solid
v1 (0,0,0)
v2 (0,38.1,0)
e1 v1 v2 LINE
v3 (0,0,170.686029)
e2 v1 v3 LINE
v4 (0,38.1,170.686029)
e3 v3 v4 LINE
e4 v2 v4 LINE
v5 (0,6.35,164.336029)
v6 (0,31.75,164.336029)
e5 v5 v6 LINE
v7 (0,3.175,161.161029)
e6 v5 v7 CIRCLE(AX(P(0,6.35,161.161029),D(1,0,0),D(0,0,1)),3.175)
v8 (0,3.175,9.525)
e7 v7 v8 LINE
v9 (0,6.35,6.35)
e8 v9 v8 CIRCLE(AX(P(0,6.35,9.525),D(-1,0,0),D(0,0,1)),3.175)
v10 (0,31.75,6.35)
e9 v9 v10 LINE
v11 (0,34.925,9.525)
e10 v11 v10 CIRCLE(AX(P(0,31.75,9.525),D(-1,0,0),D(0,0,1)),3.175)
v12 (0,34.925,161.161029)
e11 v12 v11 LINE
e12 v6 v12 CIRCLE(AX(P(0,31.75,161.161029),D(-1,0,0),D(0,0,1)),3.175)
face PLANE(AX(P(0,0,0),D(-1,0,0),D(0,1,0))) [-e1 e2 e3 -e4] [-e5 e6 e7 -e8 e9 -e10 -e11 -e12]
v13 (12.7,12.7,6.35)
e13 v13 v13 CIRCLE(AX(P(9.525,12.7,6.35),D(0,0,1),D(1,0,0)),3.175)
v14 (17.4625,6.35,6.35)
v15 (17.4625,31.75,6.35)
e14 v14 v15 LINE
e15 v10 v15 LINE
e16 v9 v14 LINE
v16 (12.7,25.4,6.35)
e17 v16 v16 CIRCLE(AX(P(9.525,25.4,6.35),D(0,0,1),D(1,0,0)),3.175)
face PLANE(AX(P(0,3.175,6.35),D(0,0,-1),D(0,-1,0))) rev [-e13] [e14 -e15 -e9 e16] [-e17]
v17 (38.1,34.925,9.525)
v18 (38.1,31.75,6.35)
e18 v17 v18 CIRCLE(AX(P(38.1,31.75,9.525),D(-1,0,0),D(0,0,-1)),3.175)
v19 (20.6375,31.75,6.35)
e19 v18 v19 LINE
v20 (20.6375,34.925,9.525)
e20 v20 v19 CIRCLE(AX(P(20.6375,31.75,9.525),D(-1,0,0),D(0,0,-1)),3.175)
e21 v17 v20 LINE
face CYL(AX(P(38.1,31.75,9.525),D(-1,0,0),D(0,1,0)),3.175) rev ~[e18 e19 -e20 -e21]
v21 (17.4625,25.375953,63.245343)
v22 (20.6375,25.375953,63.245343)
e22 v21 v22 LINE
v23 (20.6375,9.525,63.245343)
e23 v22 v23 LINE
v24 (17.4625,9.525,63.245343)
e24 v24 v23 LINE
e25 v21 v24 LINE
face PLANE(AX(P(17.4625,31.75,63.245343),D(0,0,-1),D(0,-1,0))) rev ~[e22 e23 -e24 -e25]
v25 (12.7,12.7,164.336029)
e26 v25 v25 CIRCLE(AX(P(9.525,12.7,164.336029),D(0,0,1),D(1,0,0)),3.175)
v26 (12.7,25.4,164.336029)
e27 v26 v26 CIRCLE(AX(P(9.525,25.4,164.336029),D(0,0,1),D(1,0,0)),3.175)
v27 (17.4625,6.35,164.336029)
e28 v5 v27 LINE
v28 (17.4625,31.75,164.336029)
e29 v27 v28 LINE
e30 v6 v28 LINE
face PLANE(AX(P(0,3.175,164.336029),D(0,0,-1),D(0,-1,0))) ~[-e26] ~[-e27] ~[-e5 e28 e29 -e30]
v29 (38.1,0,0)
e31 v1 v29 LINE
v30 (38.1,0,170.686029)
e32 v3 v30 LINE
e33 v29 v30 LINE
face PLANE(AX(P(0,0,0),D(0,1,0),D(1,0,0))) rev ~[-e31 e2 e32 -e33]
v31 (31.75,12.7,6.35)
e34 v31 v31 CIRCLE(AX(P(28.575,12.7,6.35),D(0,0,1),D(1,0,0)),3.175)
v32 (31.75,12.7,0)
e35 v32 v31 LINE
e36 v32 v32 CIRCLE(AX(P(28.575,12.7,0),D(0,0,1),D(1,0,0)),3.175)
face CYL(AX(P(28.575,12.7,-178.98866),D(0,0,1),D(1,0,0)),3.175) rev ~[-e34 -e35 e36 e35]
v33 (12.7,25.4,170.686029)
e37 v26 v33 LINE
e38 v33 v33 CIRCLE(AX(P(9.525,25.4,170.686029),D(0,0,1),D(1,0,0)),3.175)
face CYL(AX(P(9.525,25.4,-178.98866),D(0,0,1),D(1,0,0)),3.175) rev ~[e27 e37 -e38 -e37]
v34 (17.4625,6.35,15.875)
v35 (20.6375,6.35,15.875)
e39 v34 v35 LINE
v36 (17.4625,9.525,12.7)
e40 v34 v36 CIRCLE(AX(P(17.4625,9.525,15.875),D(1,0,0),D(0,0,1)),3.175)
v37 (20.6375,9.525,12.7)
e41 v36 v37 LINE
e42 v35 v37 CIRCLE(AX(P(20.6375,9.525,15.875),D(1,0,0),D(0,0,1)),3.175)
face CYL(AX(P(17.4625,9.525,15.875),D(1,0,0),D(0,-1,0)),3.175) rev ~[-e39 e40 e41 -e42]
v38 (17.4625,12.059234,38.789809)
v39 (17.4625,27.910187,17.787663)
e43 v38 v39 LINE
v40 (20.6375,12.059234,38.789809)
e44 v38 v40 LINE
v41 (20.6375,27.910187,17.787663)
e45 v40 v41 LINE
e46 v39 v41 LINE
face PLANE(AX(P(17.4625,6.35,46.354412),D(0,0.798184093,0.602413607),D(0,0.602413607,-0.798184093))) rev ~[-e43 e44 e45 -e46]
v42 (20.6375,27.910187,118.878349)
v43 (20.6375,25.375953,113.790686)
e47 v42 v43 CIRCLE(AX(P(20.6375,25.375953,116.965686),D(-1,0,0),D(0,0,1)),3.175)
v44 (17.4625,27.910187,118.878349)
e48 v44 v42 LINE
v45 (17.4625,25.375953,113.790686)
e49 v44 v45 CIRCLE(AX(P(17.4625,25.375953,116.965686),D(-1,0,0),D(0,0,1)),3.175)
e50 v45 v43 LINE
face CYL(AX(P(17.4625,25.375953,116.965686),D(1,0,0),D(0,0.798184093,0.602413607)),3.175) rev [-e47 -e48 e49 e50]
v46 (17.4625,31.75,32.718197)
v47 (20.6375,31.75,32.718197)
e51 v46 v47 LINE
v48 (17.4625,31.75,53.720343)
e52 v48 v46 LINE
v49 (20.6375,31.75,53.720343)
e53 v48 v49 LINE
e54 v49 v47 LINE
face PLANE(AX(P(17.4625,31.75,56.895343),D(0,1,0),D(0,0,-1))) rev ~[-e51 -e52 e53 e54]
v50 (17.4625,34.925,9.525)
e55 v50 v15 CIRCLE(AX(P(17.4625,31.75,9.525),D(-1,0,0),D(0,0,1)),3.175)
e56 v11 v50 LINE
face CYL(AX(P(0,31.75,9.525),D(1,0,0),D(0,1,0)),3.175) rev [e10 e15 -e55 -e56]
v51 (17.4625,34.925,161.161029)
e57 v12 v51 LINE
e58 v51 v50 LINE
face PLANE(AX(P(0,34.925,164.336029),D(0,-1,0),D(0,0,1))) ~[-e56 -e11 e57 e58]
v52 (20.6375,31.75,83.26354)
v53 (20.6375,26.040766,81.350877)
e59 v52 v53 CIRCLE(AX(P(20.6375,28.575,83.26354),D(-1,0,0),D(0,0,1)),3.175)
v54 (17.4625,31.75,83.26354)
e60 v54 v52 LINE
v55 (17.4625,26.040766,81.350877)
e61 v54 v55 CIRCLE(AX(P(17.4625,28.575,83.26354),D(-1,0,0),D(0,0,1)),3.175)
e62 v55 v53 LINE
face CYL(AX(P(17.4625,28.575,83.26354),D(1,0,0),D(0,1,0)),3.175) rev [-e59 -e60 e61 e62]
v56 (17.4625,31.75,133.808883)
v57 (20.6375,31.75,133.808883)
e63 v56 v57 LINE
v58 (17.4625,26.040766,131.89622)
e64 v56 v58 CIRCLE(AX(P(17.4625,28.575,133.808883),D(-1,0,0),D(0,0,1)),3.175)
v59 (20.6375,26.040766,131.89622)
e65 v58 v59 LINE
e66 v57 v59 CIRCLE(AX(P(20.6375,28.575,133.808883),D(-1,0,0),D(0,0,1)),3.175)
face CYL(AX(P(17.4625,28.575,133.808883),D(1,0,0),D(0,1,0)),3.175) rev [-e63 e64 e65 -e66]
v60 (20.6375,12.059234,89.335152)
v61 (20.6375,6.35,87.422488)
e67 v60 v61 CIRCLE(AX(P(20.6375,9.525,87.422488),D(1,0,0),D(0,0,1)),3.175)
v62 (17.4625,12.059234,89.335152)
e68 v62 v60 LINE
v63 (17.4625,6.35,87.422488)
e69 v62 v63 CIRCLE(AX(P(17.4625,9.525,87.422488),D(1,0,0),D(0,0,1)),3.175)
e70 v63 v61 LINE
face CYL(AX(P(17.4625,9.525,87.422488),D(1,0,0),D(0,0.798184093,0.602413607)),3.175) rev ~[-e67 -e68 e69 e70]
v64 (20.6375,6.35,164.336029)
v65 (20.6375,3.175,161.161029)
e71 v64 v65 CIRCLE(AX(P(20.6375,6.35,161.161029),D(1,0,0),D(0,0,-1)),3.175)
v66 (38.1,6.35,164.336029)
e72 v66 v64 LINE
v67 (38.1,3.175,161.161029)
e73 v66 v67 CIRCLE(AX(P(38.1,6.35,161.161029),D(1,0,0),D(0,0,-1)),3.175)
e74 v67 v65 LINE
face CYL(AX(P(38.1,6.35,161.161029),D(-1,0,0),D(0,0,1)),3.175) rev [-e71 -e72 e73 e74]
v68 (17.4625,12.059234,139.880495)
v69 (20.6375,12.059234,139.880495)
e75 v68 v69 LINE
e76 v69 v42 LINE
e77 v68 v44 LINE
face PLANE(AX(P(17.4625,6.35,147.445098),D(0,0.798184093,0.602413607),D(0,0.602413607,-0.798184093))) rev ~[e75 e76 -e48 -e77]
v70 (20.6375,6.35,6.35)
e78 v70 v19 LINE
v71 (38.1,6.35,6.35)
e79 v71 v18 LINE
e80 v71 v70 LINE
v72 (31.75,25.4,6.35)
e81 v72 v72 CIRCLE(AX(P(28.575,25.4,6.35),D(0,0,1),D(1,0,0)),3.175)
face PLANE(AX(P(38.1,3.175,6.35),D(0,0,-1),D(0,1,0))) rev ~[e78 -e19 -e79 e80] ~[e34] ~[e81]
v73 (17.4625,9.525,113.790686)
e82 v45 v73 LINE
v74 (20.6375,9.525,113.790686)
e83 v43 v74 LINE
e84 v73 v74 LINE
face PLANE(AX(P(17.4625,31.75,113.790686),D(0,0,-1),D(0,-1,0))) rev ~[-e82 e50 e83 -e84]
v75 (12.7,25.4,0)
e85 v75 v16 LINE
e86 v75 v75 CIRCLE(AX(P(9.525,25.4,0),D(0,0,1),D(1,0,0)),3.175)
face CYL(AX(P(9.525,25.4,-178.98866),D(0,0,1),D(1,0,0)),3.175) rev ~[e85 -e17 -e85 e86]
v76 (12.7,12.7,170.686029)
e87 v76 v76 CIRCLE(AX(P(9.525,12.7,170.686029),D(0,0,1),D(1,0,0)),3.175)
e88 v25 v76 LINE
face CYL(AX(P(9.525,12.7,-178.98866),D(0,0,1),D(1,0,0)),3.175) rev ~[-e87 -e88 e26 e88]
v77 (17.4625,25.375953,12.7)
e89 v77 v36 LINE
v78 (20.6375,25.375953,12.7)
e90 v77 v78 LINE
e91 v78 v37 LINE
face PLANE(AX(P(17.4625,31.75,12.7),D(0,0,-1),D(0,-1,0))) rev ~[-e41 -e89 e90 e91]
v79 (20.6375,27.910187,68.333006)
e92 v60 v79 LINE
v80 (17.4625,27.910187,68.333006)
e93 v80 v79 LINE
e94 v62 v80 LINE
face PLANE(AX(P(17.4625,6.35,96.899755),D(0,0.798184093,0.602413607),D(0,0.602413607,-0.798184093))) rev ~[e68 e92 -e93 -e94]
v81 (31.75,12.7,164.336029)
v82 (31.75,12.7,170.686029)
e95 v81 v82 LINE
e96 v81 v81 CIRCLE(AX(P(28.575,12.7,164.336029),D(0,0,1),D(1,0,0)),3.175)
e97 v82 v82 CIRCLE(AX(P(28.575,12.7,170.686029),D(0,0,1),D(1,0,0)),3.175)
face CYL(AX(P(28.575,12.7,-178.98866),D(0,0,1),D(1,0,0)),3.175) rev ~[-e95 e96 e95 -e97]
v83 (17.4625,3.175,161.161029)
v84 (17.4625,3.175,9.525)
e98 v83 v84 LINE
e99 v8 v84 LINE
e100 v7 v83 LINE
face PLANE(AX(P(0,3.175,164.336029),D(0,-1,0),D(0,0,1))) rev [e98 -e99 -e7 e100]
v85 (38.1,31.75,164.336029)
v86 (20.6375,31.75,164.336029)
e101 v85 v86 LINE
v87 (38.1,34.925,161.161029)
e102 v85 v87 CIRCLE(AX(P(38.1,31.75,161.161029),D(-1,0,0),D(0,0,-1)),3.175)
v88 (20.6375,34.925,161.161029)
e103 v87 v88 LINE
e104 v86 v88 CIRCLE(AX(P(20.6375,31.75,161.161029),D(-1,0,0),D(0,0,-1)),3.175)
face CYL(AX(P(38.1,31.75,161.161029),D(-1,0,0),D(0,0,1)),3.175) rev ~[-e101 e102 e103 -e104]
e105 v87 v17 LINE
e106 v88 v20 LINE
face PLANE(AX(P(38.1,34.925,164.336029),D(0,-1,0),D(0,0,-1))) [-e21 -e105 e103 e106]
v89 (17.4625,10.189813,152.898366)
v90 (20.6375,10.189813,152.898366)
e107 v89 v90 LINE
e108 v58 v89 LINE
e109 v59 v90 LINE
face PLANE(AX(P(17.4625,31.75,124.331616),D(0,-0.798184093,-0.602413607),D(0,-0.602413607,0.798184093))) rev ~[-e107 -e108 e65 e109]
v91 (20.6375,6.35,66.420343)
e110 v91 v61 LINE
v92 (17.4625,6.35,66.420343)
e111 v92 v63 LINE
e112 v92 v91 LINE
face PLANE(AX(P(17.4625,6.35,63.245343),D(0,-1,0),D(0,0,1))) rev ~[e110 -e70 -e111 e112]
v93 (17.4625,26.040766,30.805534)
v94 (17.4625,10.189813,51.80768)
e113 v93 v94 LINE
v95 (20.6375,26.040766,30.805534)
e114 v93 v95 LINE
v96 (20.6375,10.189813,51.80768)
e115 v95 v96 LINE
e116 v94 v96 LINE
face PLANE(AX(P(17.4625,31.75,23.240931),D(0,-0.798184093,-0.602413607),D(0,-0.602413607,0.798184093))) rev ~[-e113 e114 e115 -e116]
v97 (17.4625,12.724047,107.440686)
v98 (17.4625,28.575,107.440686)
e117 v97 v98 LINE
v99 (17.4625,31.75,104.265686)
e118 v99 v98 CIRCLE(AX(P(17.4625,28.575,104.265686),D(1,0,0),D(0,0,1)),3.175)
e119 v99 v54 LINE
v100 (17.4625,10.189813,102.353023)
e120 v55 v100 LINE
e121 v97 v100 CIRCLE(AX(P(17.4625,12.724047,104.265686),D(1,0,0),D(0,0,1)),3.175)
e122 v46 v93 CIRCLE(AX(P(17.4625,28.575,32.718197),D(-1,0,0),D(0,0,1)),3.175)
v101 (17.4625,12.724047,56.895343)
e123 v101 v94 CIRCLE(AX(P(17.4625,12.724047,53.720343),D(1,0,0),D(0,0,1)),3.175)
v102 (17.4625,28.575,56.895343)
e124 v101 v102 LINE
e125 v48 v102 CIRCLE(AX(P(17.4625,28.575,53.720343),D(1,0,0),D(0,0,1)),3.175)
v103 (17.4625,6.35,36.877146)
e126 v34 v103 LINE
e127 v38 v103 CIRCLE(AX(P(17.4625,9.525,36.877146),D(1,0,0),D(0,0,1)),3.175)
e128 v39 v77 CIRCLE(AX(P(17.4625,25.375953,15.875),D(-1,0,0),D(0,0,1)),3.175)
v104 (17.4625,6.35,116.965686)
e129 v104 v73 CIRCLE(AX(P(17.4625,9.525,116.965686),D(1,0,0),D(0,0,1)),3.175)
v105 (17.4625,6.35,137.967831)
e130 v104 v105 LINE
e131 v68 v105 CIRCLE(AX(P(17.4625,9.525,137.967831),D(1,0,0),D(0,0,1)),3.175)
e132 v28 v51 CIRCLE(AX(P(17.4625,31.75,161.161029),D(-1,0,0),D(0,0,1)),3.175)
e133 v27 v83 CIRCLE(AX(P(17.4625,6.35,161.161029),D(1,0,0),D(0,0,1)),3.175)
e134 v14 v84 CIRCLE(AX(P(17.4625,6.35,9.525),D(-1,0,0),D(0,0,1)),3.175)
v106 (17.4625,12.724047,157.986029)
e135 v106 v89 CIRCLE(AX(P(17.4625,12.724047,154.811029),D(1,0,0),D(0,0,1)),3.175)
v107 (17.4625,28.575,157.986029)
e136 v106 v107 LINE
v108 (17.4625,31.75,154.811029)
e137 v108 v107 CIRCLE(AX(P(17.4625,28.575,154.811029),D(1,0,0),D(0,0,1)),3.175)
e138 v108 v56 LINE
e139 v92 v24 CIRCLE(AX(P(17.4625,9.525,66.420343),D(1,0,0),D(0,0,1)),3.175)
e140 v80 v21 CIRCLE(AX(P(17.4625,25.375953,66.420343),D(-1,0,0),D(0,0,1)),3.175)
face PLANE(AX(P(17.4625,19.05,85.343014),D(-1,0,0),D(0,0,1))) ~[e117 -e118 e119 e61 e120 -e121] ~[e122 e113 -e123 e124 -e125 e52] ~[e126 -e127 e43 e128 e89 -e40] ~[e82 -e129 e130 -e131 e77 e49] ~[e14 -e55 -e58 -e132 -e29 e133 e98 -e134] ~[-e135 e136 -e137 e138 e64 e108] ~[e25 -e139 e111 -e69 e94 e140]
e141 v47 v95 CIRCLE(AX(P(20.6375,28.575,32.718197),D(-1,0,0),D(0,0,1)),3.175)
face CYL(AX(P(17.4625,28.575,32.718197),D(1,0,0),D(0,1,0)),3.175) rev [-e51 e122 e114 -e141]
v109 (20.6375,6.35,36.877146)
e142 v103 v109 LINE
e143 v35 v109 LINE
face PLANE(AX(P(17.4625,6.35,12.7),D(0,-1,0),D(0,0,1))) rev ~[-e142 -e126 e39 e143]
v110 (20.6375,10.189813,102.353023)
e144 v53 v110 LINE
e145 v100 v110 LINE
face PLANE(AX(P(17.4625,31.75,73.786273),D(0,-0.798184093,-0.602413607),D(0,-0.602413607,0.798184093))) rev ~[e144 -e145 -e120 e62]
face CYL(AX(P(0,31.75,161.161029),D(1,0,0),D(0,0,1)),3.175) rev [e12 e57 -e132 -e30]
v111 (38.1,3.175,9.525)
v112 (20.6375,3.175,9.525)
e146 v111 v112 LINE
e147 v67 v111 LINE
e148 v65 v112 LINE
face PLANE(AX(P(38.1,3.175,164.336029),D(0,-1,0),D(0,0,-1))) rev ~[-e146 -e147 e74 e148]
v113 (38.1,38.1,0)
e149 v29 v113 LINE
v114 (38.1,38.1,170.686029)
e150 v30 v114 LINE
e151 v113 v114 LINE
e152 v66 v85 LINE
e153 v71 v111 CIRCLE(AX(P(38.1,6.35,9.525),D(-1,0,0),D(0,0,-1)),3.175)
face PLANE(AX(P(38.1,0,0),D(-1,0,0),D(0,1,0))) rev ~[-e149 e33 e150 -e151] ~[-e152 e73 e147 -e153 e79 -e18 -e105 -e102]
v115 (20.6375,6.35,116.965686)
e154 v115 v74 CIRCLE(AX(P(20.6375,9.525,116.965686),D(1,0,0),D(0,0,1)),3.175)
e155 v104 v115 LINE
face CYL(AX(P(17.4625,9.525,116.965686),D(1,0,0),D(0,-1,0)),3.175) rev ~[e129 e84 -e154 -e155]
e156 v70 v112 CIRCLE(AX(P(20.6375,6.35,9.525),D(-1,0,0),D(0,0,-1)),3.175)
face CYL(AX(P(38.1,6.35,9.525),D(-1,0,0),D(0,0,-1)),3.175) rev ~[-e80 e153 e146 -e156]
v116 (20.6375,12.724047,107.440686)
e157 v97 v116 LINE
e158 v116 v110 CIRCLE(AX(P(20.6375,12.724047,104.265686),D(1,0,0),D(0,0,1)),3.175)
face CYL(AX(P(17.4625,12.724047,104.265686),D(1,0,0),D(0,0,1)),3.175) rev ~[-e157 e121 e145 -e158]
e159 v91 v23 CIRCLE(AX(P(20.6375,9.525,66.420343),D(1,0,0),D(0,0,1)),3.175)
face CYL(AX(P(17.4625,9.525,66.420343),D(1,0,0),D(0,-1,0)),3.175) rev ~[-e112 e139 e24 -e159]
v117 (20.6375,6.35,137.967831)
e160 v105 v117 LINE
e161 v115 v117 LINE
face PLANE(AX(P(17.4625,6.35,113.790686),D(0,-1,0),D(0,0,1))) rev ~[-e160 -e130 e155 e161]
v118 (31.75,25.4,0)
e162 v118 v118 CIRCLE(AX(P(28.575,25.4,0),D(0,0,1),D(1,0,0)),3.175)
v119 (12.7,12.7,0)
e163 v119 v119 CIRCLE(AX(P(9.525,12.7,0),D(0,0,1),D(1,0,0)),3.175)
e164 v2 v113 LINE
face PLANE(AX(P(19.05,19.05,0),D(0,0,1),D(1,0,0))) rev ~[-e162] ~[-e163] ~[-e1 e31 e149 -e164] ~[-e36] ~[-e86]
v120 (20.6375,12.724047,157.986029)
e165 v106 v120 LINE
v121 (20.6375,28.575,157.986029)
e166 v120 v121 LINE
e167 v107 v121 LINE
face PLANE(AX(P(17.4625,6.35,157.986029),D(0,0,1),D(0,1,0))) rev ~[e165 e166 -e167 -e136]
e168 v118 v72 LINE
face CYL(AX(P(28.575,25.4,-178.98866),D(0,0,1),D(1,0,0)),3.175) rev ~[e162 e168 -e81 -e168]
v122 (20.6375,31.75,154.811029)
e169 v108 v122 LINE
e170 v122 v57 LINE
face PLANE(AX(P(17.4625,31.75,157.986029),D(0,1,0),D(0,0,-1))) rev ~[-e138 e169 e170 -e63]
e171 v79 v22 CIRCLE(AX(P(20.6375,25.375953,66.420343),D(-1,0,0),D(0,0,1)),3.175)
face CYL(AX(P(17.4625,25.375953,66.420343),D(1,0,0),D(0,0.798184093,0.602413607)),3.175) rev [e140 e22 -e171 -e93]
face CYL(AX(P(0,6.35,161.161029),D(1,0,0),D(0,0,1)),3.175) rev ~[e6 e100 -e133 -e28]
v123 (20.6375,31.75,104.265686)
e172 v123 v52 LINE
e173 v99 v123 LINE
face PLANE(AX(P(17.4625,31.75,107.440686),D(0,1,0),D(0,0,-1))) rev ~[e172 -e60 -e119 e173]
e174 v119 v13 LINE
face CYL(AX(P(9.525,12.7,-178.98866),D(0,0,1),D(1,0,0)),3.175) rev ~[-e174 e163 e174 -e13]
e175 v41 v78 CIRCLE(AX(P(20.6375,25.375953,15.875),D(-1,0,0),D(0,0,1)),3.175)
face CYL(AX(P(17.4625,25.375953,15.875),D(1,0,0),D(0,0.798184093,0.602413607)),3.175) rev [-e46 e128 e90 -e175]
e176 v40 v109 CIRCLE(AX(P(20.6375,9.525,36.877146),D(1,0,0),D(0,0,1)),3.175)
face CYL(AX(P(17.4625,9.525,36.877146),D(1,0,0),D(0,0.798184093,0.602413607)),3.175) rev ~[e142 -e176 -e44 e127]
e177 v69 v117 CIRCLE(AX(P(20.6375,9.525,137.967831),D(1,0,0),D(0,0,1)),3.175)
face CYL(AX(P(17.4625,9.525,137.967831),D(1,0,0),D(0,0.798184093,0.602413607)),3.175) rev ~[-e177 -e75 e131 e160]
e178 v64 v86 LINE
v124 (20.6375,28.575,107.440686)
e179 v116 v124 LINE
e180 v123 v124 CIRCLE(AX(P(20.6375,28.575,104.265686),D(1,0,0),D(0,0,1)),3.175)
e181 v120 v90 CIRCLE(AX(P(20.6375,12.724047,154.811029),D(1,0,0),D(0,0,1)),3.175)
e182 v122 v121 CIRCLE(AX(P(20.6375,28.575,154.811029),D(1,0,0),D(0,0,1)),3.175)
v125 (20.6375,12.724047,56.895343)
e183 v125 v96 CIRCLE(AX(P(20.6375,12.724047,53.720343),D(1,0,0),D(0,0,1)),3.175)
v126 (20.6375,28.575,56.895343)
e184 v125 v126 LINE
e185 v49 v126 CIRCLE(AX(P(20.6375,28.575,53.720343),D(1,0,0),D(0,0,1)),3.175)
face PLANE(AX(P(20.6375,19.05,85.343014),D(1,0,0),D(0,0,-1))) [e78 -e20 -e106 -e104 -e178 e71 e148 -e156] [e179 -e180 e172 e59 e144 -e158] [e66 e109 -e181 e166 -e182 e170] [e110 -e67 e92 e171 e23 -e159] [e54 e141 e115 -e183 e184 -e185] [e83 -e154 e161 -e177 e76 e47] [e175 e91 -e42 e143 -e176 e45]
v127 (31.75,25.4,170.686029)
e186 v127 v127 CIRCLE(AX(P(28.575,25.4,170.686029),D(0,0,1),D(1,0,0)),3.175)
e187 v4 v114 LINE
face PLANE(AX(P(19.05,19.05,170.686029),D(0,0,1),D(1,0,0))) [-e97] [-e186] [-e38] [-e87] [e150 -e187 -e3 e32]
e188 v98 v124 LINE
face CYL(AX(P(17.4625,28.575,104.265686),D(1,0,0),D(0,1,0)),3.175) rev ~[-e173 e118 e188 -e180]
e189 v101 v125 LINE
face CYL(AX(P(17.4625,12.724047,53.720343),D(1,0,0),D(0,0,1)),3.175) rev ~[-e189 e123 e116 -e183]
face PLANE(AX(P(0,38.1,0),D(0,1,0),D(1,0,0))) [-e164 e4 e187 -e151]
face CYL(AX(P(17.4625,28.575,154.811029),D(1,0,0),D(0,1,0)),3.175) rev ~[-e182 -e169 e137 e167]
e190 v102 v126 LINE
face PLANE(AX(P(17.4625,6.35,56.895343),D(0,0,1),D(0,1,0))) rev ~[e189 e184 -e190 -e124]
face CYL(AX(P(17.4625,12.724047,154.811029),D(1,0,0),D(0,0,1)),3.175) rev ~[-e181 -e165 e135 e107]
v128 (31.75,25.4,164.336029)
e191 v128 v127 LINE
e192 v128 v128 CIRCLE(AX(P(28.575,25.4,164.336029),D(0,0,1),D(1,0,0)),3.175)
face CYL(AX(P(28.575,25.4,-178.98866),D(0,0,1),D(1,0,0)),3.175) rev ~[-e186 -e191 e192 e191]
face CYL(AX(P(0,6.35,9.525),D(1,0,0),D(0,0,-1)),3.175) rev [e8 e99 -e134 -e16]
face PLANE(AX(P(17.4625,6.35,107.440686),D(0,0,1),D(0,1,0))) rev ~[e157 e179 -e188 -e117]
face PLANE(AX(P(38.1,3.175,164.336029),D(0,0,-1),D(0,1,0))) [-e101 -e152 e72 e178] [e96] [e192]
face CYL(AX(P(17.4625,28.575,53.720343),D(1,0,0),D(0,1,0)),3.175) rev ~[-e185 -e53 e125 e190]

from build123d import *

# Parameters (mm, degrees)
SKETCH2_W                   = 38.1
SKETCH2_H                   = 38.1
BOSS_EXTRUDE1_DEPTH         = 170.686028715
SKETCH3_W                   = 157.986028715
SKETCH3_H                   = 31.75
CUT_EXTRUDE1_DEPTH          = 17.4625
FILLET1_R                   = 3.175
FILLET1_OF_MIRROR1_R        = 3.175
F_1_4_0_25_DIAMETER_HOLE1_D = 6.35
CUT_EXTRUDE2_REACH          = 178.1
FILLET3_R                   = 3.175


with BuildPart() as part:
    # Sketch2 → Boss-Extrude1 (new body)
    with BuildSketch(Plane.XY):
        with Locations((19.05, 19.05)):
            Rectangle(SKETCH2_W, SKETCH2_H)
    extrude(amount=BOSS_EXTRUDE1_DEPTH)

    # Sketch3 → Cut-Extrude1 (cut)
    with BuildSketch(Plane(origin=(38.1, 0, 0), x_dir=(0, 0, -1), z_dir=(1, 0, 0))):
        with Locations((-85.343014357, 19.05)):
            Rectangle(SKETCH3_W, SKETCH3_H)
    cut_extrude1 = extrude(amount=-CUT_EXTRUDE1_DEPTH, mode=Mode.SUBTRACT)

    # Fillet1
    fillet1_edges = [part.edges().sort_by_distance(p)[0] for p in [
        (29.36875, 3.175, 164.336028715),
        (29.36875, 34.925, 164.336028715),
        (29.36875, 34.925, 6.35),
        (29.36875, 3.175, 6.35),
    ]]
    fillet(fillet1_edges, radius=FILLET1_R)

    # Mirror1: Cut-Extrude1 across plane
    add(cut_extrude1.mirror(Plane(origin=(19.05, 0, 0), x_dir=(0, 0, 1), z_dir=(1, 0, 0))), mode=Mode.SUBTRACT)

    # Fillet1 of Mirror1
    fillet1_of_mirror1_edges = [part.edges().sort_by_distance(p)[0] for p in [
        (8.73125, 3.175, 164.336028715),
        (8.73125, 34.925, 164.336028715),
        (8.73125, 34.925, 6.35),
        (8.73125, 3.175, 6.35),
    ]]
    fillet(fillet1_of_mirror1_edges, radius=FILLET1_OF_MIRROR1_R)

    # 1/4 (0.25) Diameter Hole1 (through all)
    with Locations(Plane(origin=(0, 0, 0), x_dir=(-1, 0, 0), z_dir=(0, 0, -1))):
        with Locations((-9.525, 25.4), (-9.525, 12.7), (-28.575, 12.7), (-28.575, 25.4)):
            Hole(F_1_4_0_25_DIAMETER_HOLE1_D / 2)

    # Sketch7 → Cut-Extrude2 (cut, up to next)
    with BuildSketch(Plane.ZY.offset(-17.4625), mode=Mode.PRIVATE) as cut_extrude2_sk1:
        Polygon((12.7, 31.75), (12.7, 6.35), (46.354412352, 6.35), align=None)
    cut_extrude2_tool1 = extrude(cut_extrude2_sk1.sketch, amount=-CUT_EXTRUDE2_REACH, mode=Mode.PRIVATE) & part.part
    # Sketch7 → Cut-Extrude2 (cut, up to next)
    with BuildSketch(Plane.ZY.offset(-17.4625), mode=Mode.PRIVATE) as cut_extrude2_sk2:
        Polygon((23.240930553, 31.75), (56.895342905, 6.35), (56.895342905, 31.75), align=None)
    cut_extrude2_tool2 = extrude(cut_extrude2_sk2.sketch, amount=-CUT_EXTRUDE2_REACH, mode=Mode.PRIVATE) & part.part
    # Sketch7 → Cut-Extrude2 (cut, up to next)
    with BuildSketch(Plane.ZY.offset(-17.4625), mode=Mode.PRIVATE) as cut_extrude2_sk3:
        Polygon((63.245342905, 31.75), (63.245342905, 6.35), (96.899755257, 6.35), align=None)
    cut_extrude2_tool3 = extrude(cut_extrude2_sk3.sketch, amount=-CUT_EXTRUDE2_REACH, mode=Mode.PRIVATE) & part.part
    # Sketch7 → Cut-Extrude2 (cut, up to next)
    with BuildSketch(Plane.ZY.offset(-17.4625), mode=Mode.PRIVATE) as cut_extrude2_sk4:
        Polygon((73.786273458, 31.75), (107.44068581, 6.35), (107.44068581, 31.75), align=None)
    cut_extrude2_tool4 = extrude(cut_extrude2_sk4.sketch, amount=-CUT_EXTRUDE2_REACH, mode=Mode.PRIVATE) & part.part
    # Sketch7 → Cut-Extrude2 (cut, up to next)
    with BuildSketch(Plane.ZY.offset(-17.4625), mode=Mode.PRIVATE) as cut_extrude2_sk5:
        Polygon((113.79068581, 31.75), (113.79068581, 6.35), (147.445098162, 6.35), align=None)
    cut_extrude2_tool5 = extrude(cut_extrude2_sk5.sketch, amount=-CUT_EXTRUDE2_REACH, mode=Mode.PRIVATE) & part.part
    # Sketch7 → Cut-Extrude2 (cut, up to next)
    with BuildSketch(Plane.ZY.offset(-17.4625), mode=Mode.PRIVATE) as cut_extrude2_sk6:
        Polygon((124.331616363, 31.75), (157.986028715, 6.35), (157.986028715, 31.75), align=None)
    cut_extrude2_tool6 = extrude(cut_extrude2_sk6.sketch, amount=-CUT_EXTRUDE2_REACH, mode=Mode.PRIVATE) & part.part
    add(cut_extrude2_tool1.solids().sort_by_distance((17.4625, 14.816667, 23.918137))[0], mode=Mode.SUBTRACT)
    add(cut_extrude2_tool2.solids().sort_by_distance((17.4625, 23.283333, 45.677205))[0], mode=Mode.SUBTRACT)
    add(cut_extrude2_tool3.solids().sort_by_distance((17.4625, 14.816667, 74.46348))[0], mode=Mode.SUBTRACT)
    add(cut_extrude2_tool4.solids().sort_by_distance((17.4625, 23.283333, 96.222548))[0], mode=Mode.SUBTRACT)
    add(cut_extrude2_tool5.solids().sort_by_distance((17.4625, 14.816667, 125.008823))[0], mode=Mode.SUBTRACT)
    add(cut_extrude2_tool6.solids().sort_by_distance((17.4625, 23.283333, 146.767891))[0], mode=Mode.SUBTRACT)

    # Fillet3
    fillet3_edges = [part.edges().sort_by_distance(p)[0] for p in [
        (19.05, 31.75, 12.7),
        (19.05, 6.35, 46.354412352),
        (19.05, 6.35, 12.7),
        (19.05, 31.75, 23.240930553),
        (19.05, 31.75, 56.895342905),
        (19.05, 6.35, 56.895342905),
        (19.05, 31.75, 63.245342905),
        (19.05, 6.35, 96.899755257),
        (19.05, 6.35, 63.245342905),
        (19.05, 31.75, 113.79068581),
        (19.05, 6.35, 147.445098162),
        (19.05, 6.35, 113.79068581),
        (19.05, 31.75, 73.786273458),
        (19.05, 31.75, 107.44068581),
        (19.05, 6.35, 107.44068581),
        (19.05, 31.75, 124.331616363),
        (19.05, 31.75, 157.986028715),
        (19.05, 6.35, 157.986028715),
    ]]
    fillet(fillet3_edges, radius=FILLET3_R)


solid = part.part
